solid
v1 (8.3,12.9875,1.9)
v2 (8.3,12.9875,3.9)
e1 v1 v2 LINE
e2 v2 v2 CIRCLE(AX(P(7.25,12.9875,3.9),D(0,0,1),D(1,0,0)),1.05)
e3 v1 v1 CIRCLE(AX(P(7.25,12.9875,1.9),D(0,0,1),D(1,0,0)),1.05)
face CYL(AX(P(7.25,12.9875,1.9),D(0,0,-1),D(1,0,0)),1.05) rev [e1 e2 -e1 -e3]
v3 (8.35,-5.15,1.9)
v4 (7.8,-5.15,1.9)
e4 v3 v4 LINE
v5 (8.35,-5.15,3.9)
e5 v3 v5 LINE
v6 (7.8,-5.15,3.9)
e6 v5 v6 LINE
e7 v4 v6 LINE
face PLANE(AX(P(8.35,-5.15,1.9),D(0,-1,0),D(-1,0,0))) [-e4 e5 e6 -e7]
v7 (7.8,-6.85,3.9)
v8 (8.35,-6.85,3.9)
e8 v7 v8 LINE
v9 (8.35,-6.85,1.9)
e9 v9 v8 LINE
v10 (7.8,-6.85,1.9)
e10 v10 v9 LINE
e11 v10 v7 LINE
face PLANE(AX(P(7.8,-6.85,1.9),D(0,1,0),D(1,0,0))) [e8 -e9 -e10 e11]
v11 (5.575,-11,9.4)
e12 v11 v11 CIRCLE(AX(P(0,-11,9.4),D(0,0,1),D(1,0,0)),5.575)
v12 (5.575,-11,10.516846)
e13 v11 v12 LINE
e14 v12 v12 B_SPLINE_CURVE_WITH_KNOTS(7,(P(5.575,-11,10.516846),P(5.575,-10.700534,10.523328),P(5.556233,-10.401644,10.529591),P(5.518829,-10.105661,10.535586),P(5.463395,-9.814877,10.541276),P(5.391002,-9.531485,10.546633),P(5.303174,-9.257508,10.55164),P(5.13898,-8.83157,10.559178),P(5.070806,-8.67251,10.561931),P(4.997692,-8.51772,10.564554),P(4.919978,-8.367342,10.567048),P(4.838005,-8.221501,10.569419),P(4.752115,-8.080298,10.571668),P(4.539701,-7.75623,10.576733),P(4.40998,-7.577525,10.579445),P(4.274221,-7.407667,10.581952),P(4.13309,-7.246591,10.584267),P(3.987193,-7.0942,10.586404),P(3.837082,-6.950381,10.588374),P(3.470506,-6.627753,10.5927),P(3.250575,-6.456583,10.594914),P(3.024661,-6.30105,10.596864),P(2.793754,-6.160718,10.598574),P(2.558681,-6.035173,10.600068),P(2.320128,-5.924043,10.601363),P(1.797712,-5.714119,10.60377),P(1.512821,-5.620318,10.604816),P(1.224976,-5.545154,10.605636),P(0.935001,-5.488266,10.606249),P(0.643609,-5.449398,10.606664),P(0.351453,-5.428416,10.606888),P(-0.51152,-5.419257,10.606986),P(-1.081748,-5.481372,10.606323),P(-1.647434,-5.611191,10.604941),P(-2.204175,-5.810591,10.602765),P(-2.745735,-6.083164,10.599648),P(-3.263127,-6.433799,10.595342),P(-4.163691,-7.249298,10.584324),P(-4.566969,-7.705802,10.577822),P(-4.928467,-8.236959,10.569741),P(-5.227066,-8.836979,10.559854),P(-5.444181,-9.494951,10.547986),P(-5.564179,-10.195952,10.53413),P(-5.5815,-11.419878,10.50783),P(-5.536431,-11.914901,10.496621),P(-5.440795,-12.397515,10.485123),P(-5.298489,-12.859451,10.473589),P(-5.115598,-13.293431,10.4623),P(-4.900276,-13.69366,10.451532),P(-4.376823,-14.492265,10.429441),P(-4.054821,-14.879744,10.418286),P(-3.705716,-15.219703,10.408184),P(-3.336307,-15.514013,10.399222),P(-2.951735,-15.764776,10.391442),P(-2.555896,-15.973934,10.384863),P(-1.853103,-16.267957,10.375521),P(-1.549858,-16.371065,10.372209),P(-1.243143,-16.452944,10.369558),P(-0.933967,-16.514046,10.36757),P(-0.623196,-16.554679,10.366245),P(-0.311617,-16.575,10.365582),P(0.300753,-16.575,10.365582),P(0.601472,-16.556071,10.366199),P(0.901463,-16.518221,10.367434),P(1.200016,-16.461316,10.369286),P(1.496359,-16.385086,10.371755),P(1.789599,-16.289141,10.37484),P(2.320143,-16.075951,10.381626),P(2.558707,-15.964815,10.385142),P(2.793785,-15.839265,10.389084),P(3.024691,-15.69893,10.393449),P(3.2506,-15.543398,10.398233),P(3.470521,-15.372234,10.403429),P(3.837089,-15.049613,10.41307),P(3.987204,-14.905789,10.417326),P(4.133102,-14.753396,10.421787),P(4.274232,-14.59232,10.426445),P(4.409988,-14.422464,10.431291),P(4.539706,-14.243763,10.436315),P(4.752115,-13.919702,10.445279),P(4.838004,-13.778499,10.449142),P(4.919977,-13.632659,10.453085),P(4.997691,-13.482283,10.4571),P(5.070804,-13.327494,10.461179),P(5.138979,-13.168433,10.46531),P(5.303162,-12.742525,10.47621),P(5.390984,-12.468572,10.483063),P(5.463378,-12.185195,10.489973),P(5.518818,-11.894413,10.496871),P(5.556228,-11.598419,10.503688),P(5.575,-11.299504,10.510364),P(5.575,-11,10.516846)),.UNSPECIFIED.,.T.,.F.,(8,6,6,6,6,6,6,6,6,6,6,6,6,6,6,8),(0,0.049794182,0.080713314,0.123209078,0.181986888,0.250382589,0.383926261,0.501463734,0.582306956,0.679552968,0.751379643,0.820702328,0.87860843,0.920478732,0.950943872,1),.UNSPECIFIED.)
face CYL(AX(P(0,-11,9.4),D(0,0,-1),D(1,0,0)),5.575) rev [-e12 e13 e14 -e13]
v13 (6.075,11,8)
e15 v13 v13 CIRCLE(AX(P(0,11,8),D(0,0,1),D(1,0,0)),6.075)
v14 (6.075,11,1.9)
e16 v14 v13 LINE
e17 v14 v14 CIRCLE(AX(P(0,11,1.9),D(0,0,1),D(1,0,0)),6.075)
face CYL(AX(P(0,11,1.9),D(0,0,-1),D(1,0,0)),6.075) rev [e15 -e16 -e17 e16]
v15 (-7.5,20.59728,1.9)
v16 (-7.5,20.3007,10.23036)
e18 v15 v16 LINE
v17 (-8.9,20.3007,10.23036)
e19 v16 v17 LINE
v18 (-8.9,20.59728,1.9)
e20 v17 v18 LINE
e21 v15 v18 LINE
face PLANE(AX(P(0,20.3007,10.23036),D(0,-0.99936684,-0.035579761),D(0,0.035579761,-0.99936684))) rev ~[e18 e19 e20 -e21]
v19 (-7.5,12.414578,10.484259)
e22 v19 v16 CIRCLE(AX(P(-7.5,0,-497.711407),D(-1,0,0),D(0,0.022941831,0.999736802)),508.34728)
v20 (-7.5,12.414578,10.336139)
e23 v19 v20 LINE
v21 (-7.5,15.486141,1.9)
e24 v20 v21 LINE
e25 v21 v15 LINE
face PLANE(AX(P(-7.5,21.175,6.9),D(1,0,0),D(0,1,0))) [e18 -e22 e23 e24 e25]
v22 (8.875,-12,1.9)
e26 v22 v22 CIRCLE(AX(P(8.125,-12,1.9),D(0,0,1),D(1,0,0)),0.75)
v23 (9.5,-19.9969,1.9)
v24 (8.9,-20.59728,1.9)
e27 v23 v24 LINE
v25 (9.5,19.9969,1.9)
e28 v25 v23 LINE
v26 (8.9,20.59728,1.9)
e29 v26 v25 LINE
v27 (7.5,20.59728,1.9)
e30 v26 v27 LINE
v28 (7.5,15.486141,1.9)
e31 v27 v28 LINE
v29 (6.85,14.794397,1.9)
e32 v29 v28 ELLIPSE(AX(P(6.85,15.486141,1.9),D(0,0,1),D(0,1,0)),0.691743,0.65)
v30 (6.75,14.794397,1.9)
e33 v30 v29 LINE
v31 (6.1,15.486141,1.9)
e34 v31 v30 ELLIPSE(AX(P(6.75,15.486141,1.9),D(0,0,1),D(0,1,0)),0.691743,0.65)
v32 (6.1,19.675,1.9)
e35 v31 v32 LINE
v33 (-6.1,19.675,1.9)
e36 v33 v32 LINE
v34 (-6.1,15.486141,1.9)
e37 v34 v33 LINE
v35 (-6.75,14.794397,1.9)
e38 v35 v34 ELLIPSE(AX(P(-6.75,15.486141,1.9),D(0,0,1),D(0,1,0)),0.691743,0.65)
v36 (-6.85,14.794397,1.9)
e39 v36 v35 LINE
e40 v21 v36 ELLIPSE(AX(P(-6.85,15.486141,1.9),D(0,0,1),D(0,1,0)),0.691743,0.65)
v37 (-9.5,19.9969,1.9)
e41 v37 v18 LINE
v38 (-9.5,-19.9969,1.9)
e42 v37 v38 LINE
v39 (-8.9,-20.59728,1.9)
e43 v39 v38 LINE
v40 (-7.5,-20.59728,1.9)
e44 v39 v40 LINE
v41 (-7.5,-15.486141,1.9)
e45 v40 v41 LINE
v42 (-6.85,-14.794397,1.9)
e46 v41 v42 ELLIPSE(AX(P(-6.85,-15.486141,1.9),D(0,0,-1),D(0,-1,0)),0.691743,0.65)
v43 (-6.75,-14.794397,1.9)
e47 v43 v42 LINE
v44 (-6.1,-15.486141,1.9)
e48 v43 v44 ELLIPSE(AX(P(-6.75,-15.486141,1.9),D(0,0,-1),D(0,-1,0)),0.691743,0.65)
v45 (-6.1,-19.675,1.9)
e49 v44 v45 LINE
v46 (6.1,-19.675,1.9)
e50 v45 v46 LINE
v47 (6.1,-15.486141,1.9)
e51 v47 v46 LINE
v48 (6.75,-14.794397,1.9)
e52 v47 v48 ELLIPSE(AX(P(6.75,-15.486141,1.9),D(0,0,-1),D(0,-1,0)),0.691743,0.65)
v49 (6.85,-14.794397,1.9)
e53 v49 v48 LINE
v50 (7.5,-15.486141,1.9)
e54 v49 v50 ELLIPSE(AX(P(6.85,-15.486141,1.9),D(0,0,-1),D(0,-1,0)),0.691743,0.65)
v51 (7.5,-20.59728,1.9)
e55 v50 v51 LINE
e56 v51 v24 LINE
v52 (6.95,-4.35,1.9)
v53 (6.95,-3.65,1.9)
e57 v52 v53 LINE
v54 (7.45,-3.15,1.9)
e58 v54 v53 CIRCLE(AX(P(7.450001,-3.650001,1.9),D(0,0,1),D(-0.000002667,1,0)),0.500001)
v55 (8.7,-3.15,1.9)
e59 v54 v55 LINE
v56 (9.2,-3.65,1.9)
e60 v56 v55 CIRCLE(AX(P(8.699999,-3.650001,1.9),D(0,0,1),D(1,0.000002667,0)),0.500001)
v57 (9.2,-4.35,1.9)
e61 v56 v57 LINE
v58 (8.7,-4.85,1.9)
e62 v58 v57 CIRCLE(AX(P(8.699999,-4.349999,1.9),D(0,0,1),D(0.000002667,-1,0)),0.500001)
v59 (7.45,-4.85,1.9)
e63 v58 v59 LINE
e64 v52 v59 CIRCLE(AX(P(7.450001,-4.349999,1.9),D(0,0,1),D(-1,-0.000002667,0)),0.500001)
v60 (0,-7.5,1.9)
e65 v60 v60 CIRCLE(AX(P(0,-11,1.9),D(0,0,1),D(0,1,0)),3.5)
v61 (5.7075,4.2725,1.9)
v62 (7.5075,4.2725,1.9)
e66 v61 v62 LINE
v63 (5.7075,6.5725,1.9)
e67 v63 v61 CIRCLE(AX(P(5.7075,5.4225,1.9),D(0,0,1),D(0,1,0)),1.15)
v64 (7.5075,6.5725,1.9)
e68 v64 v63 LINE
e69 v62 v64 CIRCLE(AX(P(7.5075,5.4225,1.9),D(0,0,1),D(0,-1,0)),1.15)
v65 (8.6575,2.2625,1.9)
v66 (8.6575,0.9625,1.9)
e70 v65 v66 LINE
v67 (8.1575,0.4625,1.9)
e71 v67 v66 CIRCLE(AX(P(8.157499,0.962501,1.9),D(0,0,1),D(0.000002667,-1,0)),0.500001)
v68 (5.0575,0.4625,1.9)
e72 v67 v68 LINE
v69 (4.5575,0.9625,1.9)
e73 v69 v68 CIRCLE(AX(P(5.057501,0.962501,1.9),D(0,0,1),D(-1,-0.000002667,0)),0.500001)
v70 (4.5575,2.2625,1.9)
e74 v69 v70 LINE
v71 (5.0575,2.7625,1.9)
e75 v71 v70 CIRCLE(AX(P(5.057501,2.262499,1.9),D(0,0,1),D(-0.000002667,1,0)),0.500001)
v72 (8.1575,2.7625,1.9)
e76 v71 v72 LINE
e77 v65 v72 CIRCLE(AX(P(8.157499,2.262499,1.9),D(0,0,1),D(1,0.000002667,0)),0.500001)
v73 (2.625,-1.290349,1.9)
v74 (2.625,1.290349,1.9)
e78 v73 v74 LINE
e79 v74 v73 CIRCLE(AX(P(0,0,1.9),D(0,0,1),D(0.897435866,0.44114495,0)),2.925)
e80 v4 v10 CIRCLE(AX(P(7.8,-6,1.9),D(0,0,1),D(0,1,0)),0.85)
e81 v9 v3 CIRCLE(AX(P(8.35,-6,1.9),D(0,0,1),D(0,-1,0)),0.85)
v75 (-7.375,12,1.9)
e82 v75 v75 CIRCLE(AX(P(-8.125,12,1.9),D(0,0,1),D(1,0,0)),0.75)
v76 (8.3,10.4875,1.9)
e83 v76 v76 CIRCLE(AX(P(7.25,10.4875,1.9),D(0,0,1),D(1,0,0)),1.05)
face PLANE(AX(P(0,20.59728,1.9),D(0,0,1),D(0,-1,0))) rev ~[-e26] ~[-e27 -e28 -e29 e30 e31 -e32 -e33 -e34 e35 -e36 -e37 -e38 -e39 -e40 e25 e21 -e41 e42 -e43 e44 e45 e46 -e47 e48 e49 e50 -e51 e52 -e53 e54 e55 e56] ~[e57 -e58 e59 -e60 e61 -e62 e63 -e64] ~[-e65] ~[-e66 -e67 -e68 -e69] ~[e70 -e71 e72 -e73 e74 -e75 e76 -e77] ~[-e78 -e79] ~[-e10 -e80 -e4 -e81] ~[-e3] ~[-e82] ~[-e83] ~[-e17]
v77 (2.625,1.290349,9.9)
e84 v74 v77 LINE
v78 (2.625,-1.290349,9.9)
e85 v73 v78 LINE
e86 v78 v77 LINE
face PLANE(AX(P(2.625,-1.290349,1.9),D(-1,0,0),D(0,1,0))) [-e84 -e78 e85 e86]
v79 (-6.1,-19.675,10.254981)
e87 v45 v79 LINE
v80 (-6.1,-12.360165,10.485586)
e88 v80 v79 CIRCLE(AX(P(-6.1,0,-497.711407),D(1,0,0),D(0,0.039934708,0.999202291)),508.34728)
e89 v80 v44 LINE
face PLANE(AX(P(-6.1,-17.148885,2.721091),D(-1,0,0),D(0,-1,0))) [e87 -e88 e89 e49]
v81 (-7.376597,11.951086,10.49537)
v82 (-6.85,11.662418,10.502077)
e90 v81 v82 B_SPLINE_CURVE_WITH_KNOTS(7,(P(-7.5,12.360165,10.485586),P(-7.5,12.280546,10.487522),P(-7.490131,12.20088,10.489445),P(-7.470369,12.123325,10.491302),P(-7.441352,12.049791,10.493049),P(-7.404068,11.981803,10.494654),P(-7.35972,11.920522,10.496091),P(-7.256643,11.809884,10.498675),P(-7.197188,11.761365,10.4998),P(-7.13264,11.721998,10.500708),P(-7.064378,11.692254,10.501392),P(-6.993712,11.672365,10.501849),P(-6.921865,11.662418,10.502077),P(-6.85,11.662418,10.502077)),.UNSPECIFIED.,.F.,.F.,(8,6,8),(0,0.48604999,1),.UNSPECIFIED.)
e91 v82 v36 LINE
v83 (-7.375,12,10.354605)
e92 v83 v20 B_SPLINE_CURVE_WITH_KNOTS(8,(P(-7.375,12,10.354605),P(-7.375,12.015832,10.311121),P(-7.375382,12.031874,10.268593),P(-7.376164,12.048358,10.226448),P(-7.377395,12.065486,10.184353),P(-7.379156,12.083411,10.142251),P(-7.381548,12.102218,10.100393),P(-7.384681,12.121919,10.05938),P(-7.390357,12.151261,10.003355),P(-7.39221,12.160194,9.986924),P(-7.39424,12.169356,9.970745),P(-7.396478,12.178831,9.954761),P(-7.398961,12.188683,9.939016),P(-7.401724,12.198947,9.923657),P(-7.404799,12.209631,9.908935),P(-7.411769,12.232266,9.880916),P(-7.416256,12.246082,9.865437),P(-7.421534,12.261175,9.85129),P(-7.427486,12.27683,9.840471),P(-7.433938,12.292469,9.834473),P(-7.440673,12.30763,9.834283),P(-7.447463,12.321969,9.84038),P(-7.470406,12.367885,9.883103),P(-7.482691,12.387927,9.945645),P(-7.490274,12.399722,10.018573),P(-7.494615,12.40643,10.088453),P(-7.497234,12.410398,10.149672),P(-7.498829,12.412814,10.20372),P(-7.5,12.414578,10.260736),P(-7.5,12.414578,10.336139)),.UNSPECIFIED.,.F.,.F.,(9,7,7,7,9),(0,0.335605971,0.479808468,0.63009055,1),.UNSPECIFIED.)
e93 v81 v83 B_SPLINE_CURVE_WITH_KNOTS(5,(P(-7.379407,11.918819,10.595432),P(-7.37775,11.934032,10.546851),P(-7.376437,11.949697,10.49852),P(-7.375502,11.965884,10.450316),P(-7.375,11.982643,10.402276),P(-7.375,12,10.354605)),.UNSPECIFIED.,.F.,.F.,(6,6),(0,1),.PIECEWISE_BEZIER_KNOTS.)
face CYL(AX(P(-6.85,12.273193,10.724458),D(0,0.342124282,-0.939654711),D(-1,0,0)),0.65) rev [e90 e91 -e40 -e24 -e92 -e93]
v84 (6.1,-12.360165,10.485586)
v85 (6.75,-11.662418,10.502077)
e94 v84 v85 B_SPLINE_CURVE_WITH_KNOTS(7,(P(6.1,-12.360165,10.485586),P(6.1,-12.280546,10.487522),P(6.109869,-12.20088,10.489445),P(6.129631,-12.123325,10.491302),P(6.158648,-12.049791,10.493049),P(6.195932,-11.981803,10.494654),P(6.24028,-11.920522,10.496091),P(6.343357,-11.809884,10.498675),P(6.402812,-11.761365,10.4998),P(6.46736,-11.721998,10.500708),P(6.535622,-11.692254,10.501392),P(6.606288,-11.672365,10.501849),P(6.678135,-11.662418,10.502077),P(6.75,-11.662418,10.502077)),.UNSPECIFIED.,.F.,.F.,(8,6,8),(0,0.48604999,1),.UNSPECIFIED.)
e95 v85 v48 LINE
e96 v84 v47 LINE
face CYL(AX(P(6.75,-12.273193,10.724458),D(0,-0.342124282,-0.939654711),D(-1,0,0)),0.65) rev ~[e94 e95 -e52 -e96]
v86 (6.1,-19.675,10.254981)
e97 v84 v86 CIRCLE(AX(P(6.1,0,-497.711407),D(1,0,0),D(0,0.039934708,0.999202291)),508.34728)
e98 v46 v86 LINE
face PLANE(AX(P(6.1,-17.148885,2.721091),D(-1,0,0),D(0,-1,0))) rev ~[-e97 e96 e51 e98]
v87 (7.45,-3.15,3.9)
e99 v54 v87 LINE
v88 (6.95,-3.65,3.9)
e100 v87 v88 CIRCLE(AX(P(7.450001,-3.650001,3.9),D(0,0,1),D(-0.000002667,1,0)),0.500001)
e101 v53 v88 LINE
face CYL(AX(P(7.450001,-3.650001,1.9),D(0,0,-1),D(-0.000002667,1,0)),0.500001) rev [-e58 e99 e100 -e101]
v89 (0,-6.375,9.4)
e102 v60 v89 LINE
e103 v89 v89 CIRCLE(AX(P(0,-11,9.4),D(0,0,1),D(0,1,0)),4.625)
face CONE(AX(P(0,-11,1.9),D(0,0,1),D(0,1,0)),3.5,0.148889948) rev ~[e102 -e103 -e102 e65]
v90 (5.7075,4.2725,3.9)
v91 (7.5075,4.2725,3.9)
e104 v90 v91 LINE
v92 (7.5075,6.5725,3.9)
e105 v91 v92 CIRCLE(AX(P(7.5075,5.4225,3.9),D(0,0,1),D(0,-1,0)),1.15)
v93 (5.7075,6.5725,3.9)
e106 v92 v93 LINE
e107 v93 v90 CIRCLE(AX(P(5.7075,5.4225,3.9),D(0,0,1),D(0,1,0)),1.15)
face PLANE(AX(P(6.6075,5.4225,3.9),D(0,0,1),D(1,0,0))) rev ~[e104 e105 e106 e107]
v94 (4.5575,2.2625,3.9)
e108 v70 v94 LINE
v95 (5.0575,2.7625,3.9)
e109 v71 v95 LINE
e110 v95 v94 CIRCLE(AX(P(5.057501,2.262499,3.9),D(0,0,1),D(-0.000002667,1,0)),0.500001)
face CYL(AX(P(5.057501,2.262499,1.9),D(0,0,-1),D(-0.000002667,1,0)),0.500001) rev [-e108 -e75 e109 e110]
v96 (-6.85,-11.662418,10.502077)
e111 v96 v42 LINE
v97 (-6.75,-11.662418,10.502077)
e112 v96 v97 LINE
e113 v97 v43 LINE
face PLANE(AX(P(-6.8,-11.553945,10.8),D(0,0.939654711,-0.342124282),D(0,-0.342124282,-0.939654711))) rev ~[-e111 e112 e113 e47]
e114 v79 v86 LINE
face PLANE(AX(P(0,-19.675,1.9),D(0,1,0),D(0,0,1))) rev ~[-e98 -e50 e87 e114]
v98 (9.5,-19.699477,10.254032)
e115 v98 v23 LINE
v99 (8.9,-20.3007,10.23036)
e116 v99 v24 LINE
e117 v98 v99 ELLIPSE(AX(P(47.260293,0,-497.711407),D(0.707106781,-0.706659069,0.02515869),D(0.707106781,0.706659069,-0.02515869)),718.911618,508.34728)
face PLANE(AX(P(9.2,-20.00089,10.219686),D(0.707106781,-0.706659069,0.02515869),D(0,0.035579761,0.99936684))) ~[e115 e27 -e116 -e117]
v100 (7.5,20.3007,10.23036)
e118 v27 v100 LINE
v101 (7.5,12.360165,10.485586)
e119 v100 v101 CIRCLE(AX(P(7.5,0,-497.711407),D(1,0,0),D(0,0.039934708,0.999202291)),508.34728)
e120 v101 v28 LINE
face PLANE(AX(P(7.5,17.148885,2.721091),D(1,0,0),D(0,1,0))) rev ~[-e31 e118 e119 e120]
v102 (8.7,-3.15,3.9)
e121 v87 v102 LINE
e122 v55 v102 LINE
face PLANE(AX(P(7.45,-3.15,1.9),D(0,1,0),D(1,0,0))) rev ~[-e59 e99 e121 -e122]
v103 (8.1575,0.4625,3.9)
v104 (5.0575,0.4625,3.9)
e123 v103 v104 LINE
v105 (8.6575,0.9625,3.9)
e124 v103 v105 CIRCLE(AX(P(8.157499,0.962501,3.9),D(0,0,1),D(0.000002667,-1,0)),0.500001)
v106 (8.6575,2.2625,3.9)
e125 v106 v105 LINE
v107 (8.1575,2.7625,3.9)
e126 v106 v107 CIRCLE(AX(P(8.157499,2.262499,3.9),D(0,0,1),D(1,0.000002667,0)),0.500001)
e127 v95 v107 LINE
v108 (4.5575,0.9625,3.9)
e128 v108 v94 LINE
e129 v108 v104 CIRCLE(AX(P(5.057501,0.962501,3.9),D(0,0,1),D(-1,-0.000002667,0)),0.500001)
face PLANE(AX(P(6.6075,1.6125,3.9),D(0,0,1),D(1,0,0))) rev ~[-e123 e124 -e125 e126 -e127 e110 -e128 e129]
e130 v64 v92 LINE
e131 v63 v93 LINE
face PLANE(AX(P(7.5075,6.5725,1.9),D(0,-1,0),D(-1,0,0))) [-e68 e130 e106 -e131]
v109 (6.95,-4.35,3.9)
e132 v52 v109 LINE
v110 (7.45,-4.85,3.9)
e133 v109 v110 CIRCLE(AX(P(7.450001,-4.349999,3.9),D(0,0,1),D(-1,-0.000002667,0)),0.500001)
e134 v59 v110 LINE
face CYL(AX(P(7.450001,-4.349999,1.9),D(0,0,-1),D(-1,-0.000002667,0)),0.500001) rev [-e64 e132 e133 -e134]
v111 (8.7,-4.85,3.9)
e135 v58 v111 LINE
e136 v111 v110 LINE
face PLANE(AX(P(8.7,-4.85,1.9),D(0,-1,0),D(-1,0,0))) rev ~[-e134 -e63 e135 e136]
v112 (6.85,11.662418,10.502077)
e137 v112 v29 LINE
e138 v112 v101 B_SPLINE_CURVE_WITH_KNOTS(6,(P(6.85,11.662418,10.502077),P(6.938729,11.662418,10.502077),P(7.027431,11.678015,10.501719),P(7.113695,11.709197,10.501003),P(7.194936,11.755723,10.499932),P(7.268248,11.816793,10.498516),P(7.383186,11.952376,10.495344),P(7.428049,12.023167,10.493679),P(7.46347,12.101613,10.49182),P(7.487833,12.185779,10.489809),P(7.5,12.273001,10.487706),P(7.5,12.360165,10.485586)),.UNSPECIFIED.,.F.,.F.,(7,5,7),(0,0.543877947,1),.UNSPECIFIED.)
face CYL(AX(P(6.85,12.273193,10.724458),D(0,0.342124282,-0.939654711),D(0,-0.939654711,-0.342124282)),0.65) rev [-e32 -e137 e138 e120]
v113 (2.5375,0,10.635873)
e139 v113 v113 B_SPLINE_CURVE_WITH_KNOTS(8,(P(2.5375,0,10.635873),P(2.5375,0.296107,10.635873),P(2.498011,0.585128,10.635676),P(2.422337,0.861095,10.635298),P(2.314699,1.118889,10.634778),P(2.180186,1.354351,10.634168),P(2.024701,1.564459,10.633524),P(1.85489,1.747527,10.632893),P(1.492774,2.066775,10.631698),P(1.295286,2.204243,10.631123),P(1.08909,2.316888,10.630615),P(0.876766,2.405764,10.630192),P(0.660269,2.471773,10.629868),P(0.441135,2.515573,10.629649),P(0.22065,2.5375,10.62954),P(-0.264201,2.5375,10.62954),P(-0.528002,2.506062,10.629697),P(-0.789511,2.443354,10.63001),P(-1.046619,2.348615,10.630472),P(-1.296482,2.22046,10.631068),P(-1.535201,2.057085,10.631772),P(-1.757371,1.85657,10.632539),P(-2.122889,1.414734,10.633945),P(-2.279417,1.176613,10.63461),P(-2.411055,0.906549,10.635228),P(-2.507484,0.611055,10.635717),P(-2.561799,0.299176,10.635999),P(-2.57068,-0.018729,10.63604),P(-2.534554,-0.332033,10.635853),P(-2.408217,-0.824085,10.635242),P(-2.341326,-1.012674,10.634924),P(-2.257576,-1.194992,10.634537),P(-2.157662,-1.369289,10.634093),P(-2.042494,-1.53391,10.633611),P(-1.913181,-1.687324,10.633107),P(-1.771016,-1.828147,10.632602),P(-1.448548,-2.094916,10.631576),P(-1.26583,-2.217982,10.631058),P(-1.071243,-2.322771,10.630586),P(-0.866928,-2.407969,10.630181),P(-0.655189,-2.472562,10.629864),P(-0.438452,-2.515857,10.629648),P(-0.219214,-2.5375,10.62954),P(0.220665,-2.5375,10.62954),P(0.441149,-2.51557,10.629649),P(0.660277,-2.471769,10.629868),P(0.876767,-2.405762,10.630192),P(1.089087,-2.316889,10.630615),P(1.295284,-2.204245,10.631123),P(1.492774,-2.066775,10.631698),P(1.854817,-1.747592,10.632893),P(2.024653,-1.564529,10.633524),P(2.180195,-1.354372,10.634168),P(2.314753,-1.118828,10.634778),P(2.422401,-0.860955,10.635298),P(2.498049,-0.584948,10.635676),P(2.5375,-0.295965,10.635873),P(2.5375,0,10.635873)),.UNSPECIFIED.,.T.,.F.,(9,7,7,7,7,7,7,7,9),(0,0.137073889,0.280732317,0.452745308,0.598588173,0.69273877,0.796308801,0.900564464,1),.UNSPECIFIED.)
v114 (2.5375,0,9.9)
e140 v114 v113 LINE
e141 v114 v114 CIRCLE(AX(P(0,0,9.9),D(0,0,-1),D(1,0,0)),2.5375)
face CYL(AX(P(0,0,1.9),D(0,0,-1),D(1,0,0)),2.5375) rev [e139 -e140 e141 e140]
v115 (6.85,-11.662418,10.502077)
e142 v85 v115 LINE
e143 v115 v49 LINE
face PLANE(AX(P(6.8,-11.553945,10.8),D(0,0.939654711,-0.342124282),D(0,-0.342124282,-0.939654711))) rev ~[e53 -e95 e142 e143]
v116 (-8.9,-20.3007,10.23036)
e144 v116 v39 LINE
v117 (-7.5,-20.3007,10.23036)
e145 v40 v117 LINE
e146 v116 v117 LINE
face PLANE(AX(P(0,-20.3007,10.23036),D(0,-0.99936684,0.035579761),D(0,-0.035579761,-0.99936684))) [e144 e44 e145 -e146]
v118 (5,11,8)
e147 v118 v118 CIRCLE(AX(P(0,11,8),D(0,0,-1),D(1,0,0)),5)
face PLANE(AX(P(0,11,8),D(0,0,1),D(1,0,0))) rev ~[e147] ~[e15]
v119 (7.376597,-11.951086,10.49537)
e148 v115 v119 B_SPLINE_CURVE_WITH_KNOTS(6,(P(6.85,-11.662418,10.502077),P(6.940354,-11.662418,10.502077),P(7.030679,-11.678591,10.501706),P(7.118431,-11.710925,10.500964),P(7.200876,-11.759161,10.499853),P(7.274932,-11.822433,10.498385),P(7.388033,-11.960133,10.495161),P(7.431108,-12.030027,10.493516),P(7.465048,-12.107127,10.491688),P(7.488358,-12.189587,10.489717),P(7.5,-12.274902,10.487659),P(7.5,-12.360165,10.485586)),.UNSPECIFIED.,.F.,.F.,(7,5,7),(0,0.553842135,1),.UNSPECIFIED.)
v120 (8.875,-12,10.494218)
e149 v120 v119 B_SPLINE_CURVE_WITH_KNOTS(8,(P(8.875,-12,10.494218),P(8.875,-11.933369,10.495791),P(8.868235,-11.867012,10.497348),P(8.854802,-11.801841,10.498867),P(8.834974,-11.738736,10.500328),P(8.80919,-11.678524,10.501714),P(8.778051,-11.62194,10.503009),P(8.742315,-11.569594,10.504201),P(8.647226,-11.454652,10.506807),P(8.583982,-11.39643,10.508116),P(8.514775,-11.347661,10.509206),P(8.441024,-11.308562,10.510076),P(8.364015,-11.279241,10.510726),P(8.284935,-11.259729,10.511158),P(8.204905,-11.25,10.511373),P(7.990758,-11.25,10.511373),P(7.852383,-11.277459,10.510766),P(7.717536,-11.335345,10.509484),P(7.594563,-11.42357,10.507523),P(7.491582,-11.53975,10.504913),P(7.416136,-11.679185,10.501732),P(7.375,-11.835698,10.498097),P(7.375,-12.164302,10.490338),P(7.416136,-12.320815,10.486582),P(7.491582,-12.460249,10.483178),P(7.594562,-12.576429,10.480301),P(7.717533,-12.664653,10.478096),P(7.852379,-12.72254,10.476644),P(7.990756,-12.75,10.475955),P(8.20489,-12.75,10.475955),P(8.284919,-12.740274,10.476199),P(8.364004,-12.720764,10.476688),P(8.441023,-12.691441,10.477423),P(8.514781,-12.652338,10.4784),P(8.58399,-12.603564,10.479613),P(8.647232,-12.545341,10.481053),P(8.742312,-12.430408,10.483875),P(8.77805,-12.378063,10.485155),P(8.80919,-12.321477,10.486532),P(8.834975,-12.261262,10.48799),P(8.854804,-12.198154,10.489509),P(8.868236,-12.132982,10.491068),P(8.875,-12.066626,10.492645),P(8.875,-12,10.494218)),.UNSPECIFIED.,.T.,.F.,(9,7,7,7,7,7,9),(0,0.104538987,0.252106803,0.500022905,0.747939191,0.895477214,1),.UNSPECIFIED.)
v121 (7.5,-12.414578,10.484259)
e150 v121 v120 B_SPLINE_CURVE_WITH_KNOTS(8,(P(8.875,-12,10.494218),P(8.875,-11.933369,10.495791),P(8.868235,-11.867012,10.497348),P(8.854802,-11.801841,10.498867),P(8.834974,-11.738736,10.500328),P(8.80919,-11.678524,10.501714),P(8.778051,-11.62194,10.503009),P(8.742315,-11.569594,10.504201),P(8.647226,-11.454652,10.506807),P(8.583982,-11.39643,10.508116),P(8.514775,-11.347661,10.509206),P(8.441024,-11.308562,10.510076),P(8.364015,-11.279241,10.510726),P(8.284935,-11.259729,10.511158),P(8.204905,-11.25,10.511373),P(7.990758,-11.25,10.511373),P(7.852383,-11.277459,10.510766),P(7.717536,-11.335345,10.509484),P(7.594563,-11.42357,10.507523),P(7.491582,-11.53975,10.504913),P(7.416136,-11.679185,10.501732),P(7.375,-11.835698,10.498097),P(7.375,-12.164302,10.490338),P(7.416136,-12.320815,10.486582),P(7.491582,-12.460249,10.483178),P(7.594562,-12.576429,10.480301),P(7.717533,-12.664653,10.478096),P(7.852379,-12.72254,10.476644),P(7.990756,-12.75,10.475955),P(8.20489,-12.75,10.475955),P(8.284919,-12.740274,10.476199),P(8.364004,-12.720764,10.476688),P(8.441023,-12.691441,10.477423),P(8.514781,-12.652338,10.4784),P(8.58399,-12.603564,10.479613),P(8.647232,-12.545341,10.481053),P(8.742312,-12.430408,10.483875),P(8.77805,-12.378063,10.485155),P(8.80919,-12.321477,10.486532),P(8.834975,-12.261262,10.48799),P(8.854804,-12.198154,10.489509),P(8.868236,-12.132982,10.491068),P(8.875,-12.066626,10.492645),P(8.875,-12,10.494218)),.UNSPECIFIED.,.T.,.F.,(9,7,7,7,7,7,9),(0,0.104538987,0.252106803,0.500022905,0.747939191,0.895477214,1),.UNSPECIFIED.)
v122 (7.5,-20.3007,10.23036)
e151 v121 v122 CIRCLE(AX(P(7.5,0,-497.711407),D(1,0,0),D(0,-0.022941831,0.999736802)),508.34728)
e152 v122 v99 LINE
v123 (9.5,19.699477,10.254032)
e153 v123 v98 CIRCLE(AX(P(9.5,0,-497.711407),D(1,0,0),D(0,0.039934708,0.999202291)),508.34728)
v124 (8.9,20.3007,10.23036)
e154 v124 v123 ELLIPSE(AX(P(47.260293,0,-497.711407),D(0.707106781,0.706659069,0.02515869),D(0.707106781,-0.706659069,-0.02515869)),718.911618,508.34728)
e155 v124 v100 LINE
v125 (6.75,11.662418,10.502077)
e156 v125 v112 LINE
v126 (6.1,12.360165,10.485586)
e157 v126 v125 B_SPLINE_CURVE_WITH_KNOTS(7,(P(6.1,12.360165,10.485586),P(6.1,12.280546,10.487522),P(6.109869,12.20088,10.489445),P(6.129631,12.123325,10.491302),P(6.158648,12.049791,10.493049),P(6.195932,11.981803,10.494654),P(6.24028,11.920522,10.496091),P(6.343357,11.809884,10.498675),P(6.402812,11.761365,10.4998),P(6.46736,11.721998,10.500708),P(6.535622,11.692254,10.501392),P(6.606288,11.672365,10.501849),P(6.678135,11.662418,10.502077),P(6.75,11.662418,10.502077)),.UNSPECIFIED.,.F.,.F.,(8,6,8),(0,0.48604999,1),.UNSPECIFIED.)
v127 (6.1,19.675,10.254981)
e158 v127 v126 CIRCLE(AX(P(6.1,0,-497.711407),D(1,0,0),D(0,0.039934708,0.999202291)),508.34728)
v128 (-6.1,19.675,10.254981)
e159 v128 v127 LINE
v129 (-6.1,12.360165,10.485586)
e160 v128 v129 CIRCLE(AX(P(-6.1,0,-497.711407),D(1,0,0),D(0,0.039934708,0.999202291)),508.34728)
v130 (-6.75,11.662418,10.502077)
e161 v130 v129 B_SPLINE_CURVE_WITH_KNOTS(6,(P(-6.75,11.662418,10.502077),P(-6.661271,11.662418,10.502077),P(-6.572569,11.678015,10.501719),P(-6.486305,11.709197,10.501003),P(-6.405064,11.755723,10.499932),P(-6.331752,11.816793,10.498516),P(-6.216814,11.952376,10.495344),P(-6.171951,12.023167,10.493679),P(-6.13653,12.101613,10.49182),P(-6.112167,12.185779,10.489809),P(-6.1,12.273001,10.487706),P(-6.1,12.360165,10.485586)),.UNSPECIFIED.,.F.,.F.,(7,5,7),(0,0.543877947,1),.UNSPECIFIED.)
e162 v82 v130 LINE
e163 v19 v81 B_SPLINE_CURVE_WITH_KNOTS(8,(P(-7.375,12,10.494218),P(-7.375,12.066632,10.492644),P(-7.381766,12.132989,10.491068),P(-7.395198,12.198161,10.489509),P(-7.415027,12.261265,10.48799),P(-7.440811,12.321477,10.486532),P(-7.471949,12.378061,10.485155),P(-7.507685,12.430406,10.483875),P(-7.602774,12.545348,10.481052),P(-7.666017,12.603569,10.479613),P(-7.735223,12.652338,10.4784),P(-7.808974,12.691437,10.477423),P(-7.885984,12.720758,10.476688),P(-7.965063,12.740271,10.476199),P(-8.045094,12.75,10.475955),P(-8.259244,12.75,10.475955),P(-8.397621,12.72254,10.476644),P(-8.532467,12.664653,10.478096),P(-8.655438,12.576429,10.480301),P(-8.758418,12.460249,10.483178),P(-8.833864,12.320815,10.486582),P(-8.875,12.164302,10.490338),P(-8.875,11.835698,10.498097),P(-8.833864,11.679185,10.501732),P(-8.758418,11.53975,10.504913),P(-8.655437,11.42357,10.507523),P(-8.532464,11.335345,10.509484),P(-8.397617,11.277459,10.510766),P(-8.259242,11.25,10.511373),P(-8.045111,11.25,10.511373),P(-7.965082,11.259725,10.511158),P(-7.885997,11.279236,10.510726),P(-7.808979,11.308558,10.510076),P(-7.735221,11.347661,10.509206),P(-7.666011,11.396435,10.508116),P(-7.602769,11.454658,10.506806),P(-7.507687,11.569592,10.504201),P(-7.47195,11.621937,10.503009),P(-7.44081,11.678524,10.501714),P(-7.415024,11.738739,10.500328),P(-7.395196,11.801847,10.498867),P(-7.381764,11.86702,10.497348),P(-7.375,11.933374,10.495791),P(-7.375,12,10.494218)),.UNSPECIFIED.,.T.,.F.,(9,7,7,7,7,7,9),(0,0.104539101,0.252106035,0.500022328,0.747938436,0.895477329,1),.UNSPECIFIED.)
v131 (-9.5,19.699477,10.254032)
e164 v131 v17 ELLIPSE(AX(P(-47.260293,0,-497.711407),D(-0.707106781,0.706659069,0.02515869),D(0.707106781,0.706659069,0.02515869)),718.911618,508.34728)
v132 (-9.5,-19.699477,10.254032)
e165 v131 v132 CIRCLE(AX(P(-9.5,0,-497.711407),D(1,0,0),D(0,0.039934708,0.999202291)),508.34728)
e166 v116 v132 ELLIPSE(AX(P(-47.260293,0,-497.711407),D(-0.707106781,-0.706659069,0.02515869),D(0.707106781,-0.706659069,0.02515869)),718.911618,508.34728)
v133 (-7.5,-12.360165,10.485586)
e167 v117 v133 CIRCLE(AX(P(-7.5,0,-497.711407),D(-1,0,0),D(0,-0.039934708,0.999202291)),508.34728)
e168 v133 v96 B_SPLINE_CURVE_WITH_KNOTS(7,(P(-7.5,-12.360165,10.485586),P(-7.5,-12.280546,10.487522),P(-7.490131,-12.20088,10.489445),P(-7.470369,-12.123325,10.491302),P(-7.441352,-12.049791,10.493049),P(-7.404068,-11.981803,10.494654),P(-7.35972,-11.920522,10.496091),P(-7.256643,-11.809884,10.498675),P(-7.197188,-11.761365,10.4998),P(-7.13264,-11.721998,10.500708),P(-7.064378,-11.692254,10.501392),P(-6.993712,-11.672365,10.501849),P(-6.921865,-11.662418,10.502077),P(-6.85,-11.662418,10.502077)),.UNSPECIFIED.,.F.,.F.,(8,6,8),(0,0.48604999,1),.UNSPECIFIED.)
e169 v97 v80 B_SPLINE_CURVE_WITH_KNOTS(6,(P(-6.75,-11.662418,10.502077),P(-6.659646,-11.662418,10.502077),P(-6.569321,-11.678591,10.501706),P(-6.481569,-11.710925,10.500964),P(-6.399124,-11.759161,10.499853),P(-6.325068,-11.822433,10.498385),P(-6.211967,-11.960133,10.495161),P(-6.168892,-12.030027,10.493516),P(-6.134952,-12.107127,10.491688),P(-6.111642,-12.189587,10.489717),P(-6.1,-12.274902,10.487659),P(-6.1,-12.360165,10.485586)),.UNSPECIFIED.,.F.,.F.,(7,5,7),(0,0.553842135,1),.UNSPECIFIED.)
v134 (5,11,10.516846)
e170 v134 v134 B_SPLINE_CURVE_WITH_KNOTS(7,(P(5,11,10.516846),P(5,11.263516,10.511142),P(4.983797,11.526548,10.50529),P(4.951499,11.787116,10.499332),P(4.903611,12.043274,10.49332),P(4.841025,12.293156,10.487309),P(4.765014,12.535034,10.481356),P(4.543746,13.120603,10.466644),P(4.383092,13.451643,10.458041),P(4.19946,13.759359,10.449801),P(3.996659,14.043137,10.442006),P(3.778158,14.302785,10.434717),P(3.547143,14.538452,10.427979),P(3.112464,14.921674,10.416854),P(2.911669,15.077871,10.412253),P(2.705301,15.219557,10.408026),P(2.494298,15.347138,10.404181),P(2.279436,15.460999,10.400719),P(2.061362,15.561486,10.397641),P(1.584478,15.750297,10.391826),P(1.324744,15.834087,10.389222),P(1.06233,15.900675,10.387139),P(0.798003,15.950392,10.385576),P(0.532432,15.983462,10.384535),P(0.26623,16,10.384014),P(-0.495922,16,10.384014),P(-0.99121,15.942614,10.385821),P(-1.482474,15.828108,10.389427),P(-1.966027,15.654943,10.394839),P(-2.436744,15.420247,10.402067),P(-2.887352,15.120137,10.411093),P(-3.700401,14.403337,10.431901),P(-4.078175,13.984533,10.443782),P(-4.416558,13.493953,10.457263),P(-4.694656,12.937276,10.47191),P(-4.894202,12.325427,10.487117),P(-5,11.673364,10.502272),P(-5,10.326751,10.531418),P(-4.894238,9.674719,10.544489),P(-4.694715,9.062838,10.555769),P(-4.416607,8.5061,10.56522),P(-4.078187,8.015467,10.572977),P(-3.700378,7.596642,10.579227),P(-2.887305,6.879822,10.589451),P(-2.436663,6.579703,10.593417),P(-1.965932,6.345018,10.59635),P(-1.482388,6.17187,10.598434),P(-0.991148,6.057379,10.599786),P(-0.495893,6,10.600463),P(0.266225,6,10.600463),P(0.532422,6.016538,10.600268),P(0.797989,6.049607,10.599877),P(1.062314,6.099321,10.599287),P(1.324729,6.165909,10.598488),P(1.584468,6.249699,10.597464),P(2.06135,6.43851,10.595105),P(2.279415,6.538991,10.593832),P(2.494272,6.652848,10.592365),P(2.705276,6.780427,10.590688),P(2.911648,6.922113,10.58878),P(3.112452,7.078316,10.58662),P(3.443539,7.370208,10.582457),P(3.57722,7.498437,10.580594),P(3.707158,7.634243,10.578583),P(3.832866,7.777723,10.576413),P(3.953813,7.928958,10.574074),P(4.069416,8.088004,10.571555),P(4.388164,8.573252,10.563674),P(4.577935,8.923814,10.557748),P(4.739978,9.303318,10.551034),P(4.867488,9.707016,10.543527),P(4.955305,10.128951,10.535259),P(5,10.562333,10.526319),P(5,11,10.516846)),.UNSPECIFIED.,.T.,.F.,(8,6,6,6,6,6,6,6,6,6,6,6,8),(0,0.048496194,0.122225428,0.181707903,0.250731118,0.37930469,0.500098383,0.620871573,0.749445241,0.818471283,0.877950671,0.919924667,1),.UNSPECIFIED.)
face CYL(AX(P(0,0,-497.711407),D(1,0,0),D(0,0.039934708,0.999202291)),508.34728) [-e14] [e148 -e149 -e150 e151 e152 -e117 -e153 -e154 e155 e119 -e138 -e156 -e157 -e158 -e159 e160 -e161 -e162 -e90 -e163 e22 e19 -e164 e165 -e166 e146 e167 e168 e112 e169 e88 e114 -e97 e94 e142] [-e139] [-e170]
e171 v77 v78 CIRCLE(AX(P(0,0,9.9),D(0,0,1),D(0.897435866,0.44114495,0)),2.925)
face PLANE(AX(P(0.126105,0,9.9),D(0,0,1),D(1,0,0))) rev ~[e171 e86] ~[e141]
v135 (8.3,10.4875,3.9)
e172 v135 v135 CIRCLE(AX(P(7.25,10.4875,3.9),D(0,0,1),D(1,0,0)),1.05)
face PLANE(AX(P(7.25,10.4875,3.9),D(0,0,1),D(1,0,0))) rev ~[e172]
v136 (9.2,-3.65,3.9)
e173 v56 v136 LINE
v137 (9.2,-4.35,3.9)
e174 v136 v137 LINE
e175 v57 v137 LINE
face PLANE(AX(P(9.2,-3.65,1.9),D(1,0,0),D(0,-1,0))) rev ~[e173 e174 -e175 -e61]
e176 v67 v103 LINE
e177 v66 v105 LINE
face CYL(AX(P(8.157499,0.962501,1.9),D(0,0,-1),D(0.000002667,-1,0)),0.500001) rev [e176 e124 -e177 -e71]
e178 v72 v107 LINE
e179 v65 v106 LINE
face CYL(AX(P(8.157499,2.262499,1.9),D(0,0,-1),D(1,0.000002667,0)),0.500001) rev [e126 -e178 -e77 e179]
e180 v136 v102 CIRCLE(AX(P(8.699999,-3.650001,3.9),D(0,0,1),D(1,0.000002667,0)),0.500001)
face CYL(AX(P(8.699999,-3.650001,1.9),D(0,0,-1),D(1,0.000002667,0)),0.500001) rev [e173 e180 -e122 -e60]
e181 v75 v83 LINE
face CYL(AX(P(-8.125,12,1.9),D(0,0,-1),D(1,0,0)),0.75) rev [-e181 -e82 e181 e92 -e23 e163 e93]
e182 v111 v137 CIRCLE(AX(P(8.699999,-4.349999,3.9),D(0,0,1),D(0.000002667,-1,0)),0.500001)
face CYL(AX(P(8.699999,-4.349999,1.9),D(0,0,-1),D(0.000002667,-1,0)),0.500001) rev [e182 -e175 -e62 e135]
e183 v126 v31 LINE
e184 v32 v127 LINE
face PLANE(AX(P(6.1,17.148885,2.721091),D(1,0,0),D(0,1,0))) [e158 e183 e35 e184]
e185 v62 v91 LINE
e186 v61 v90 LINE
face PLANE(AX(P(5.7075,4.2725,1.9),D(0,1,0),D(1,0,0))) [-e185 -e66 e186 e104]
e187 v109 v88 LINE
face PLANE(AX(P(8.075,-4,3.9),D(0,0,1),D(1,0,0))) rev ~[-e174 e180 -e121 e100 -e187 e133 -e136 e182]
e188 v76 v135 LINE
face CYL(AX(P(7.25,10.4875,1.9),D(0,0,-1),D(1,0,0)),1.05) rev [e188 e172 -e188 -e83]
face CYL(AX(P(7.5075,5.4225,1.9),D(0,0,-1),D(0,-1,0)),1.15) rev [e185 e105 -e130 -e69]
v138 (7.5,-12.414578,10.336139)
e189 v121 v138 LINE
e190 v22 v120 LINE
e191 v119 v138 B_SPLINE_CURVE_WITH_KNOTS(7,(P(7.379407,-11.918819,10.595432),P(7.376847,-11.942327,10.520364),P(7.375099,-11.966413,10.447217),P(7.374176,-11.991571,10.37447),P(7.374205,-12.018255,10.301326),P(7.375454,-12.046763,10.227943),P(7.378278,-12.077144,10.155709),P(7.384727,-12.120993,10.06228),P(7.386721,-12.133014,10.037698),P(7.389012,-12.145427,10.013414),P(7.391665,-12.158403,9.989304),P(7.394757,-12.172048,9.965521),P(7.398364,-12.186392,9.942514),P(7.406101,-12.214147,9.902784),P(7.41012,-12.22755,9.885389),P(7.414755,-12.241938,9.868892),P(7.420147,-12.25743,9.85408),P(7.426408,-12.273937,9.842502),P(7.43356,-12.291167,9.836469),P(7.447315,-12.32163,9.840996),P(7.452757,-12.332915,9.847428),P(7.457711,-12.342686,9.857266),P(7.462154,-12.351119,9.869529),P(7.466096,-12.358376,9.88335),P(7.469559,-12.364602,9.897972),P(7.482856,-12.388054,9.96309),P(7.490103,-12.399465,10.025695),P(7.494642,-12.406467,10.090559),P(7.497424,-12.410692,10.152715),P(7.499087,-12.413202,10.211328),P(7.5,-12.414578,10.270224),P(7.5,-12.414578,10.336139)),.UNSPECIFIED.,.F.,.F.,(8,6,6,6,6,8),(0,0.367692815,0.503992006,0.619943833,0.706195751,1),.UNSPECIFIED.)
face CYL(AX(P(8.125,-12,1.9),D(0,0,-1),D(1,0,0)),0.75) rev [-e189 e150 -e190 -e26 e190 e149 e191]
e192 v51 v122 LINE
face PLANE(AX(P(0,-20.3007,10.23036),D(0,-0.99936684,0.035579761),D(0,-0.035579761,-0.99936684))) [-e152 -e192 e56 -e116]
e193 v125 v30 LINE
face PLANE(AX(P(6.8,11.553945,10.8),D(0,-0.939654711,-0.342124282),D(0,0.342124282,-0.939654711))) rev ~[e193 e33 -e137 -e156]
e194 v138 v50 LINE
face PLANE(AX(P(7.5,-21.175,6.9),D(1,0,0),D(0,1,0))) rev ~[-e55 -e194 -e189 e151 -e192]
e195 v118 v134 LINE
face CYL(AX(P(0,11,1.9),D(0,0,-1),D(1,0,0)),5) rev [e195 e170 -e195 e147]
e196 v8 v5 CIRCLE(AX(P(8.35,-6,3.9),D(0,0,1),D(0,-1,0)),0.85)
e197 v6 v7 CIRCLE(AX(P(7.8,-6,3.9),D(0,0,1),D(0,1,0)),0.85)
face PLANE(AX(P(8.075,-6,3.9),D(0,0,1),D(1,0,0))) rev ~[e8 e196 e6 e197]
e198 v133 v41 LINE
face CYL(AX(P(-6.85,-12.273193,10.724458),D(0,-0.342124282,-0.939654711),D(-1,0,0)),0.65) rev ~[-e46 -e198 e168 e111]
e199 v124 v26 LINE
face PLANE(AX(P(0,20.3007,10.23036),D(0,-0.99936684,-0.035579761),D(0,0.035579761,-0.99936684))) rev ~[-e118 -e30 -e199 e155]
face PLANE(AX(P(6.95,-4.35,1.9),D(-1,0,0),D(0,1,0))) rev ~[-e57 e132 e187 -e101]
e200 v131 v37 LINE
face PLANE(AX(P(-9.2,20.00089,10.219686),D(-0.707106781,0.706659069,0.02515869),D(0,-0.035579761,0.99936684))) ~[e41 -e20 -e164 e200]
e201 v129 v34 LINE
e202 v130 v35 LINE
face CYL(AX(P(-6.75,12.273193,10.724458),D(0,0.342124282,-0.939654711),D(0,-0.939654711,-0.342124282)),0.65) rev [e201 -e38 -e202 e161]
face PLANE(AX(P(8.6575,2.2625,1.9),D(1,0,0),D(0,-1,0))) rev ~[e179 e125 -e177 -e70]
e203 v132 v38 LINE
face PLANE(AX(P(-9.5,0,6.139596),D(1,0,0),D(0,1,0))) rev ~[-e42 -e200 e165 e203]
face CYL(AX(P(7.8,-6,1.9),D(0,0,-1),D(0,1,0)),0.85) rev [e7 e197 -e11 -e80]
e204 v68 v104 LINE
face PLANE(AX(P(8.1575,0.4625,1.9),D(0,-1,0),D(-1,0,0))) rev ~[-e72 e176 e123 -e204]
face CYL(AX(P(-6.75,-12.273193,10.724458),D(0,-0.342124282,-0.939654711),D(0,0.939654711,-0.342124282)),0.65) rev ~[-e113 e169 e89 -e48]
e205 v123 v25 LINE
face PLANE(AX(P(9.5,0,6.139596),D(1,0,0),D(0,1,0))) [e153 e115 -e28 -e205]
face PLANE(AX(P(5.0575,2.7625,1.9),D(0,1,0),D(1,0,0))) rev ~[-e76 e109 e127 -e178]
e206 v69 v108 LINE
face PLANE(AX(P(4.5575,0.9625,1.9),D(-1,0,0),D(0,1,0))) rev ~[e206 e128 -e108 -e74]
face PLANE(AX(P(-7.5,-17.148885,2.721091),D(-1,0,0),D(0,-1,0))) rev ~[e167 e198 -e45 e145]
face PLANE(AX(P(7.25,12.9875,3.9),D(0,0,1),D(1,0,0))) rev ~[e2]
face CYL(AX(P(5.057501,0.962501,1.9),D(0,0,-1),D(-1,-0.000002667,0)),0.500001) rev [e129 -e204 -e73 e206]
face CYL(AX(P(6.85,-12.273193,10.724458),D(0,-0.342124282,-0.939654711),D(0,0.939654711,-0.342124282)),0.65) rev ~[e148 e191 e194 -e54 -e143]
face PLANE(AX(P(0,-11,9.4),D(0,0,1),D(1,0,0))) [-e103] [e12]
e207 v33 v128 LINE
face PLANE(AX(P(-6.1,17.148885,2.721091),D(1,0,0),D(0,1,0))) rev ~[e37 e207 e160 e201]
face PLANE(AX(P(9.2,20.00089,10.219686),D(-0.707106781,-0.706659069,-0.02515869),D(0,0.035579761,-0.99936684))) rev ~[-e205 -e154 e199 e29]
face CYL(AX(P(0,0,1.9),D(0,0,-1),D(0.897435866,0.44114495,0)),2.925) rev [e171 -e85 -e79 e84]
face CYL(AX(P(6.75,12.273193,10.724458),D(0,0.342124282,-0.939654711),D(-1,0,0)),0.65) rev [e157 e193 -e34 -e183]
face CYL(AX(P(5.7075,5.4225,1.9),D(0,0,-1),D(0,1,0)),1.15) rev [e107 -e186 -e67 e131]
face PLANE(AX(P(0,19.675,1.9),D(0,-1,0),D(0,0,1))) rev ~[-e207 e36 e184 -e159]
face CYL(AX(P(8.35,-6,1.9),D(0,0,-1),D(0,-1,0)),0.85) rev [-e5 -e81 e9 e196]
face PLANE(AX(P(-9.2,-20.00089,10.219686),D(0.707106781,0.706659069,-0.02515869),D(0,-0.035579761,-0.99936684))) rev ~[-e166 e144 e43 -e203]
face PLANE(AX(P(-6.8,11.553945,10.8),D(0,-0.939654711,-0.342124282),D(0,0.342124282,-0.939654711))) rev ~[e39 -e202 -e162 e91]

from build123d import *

# Parameters (mm, degrees)
PAD008_DEPTH    = 9.5
SKETCH017_W     = 3
SKETCH017_H     = 10
POCKET002_DEPTH = 7.5
POCKET003_DEPTH = 0.7
POCKET004_DEPTH = 0.7
CHAMFER001_SIZE = 0.6
FILLET002_R     = 0.65
SKETCH014_R     = 1.05
POCKET005_DEPTH = 2
POCKET006_DEPTH = 8
SKETCH022_R     = 2.5375
POCKET007_DEPTH = 8.736873
SKETCH021_R     = 5.575
POCKET008_DEPTH = 1.236873
SKETCH024_R     = 6.075
POCKET009_DEPTH = 6.1
SKETCH025_R     = 5
POCKET010_DEPTH = 8.736873
SKETCH015_R     = 0.75
POCKET011_DEPTH = 8.736873


with BuildPart() as part:
    # Sketch016 → Pad008 (new body, symmetric)
    with BuildSketch(Plane.YZ):
        with BuildLine():
            ThreePointArc((20.3007, 8.33036), (0, 8.735873), (-20.3007, 8.33036))
            Line((-20.3007, 8.33036), (-20.59728, 0))
            Line((20.59728, 0), (-20.59728, 0))
            Line((20.3007, 8.33036), (20.59728, 0))
        make_face()
    extrude(amount=PAD008_DEPTH, both=True)

    # Sketch017 → Pocket002 (cut, symmetric)
    with BuildSketch(Plane.YZ):
        with Locations((21.175, 5)):
            Rectangle(SKETCH017_W, SKETCH017_H)
        with Locations((-21.175, 5)):
            Rectangle(SKETCH017_W, SKETCH017_H)
    extrude(amount=POCKET002_DEPTH, both=True, mode=Mode.SUBTRACT)

    # Sketch018 → Pocket003 (cut, symmetric)
    with BuildSketch(Plane.YZ.offset(6.8)):
        Polygon((-19.925, 8.9), (-11.553945, 8.9), (-18.398945, -9.9), (-19.925, -9.9), align=None)
        Polygon((19.925, 8.9), (11.553945, 8.9), (18.398945, -9.9), (19.925, -9.9), align=None)
    extrude(amount=POCKET003_DEPTH, both=True, mode=Mode.SUBTRACT)

    # Sketch019 → Pocket004 (cut, symmetric)
    with BuildSketch(Plane.YZ.offset(-6.8)):
        Polygon((-19.925, 8.9), (-11.553945, 8.9), (-18.398945, -9.9), (-19.925, -9.9), align=None)
        Polygon((19.925, 8.9), (11.553945, 8.9), (18.398945, -9.9), (19.925, -9.9), align=None)
    extrude(amount=POCKET004_DEPTH, both=True, mode=Mode.SUBTRACT)

    # Chamfer001
    chamfer001_edges = [part.edges().sort_by_distance(p)[0] for p in [
        (9.5, 20.44899, 4.16518),
        (9.5, -20.44899, 4.16518),
        (-9.5, -20.44899, 4.16518),
        (-9.5, 20.44899, 4.16518),
    ]]
    chamfer(chamfer001_edges, length=CHAMFER001_SIZE)

    # Fillet002
    fillet002_edges = [part.edges().sort_by_distance(p)[0] for p in [
        (7.5, 13.228407, 4.301038),
        (7.5, -13.228407, 4.301038),
        (-6.1, -13.228407, 4.301038),
        (-6.1, 13.228407, 4.301038),
        (-7.5, -13.228407, 4.301038),
        (6.1, -13.228407, 4.301038),
        (6.1, 13.228407, 4.301038),
        (-7.5, 13.228407, 4.301038),
    ]]
    fillet(fillet002_edges, radius=FILLET002_R)

    # Sketch014 → Pocket005 (cut)
    with BuildSketch(Plane.XY):
        with Locations((7.25, 10.4875)):
            Circle(SKETCH014_R)
        with Locations((7.25, 12.9875)):
            Circle(SKETCH014_R)
        with BuildLine():
            ThreePointArc((5.7075, 6.5725), (4.5575, 5.4225), (5.7075, 4.2725))
            Line((5.7075, 4.2725), (7.5075, 4.2725))
            ThreePointArc((7.5075, 4.2725), (8.6575, 5.4225), (7.5075, 6.5725))
            Line((7.5075, 6.5725), (5.7075, 6.5725))
        make_face()
        with BuildLine():
            ThreePointArc((7.8, -5.15), (6.95, -6), (7.8, -6.85))
            Line((7.8, -6.85), (8.35, -6.85))
            ThreePointArc((8.35, -6.85), (9.2, -6), (8.35, -5.15))
            Line((8.35, -5.15), (7.8, -5.15))
        make_face()
        with BuildLine():
            ThreePointArc((5.0575, 2.7625), (4.703947, 2.616053), (4.5575, 2.2625))
            Line((4.5575, 0.9625), (4.5575, 2.2625))
            ThreePointArc((4.5575, 0.9625), (4.703947, 0.608947), (5.0575, 0.4625))
            Line((8.1575, 0.4625), (5.0575, 0.4625))
            ThreePointArc((8.1575, 0.4625), (8.511053, 0.608947), (8.6575, 0.9625))
            Line((8.6575, 2.2625), (8.6575, 0.9625))
            ThreePointArc((8.6575, 2.2625), (8.511053, 2.616053), (8.1575, 2.7625))
            Line((5.0575, 2.7625), (8.1575, 2.7625))
        make_face()
        with BuildLine():
            ThreePointArc((7.45, -3.15), (7.096447, -3.296447), (6.95, -3.65))
            Line((6.95, -4.35), (6.95, -3.65))
            ThreePointArc((6.95, -4.35), (7.096447, -4.703553), (7.45, -4.85))
            Line((8.7, -4.85), (7.45, -4.85))
            ThreePointArc((8.7, -4.85), (9.053553, -4.703553), (9.2, -4.35))
            Line((9.2, -3.65), (9.2, -4.35))
            ThreePointArc((9.2, -3.65), (9.053553, -3.296447), (8.7, -3.15))
            Line((7.45, -3.15), (8.7, -3.15))
        make_face()
    extrude(amount=POCKET005_DEPTH, mode=Mode.SUBTRACT)

    # Sketch020 → Pocket006 (cut)
    with BuildSketch(Plane.XY):
        with BuildLine():
            ThreePointArc((2.625, 1.290349), (-2.925, 0), (2.625, -1.290349))
            Line((2.625, -1.290349), (2.625, 1.290349))
        make_face()
    extrude(amount=POCKET006_DEPTH, mode=Mode.SUBTRACT)

    # Sketch022 → Pocket007 (cut, through all)
    with BuildSketch(Plane.XY):
        Circle(SKETCH022_R)
    extrude(amount=POCKET007_DEPTH, mode=Mode.SUBTRACT)

    # Sketch021 → Pocket008 (cut, through all)
    with BuildSketch(Plane.XY.offset(7.5)):
        with Locations((0, -11)):
            Circle(SKETCH021_R)
    extrude(amount=POCKET008_DEPTH, mode=Mode.SUBTRACT)

    # Cone → Cone (revolve, cut)
    with BuildSketch(Plane(origin=(0, -11, 0), x_dir=(0, 1, 0), z_dir=(1, 0, 0))):
        Polygon((0, 0), (3.5, 0), (5, 10), (0, 10), align=None)
    revolve(axis=Axis((0, -11, 0), (0, 0, 1)), mode=Mode.SUBTRACT)

    # Sketch024 → Pocket009 (cut)
    with BuildSketch(Plane.XY):
        with Locations((0, 11)):
            Circle(SKETCH024_R)
    extrude(amount=POCKET009_DEPTH, mode=Mode.SUBTRACT)

    # Sketch025 → Pocket010 (cut, through all)
    with BuildSketch(Plane.XY):
        with Locations((0, 11)):
            Circle(SKETCH025_R)
    extrude(amount=POCKET010_DEPTH, mode=Mode.SUBTRACT)

    # Sketch015 → Pocket011 (cut, through all)
    with BuildSketch(Plane.XY):
        with Locations((-8.125, 12)):
            Circle(SKETCH015_R)
        with Locations((8.125, -12)):
            Circle(SKETCH015_R)
    extrude(amount=POCKET011_DEPTH, mode=Mode.SUBTRACT)


with BuildPart() as part_1:
    # Body005 placement: moved
    add(part.part.moved(Location((0, 0, 1.9))))


solid = part_1.part
